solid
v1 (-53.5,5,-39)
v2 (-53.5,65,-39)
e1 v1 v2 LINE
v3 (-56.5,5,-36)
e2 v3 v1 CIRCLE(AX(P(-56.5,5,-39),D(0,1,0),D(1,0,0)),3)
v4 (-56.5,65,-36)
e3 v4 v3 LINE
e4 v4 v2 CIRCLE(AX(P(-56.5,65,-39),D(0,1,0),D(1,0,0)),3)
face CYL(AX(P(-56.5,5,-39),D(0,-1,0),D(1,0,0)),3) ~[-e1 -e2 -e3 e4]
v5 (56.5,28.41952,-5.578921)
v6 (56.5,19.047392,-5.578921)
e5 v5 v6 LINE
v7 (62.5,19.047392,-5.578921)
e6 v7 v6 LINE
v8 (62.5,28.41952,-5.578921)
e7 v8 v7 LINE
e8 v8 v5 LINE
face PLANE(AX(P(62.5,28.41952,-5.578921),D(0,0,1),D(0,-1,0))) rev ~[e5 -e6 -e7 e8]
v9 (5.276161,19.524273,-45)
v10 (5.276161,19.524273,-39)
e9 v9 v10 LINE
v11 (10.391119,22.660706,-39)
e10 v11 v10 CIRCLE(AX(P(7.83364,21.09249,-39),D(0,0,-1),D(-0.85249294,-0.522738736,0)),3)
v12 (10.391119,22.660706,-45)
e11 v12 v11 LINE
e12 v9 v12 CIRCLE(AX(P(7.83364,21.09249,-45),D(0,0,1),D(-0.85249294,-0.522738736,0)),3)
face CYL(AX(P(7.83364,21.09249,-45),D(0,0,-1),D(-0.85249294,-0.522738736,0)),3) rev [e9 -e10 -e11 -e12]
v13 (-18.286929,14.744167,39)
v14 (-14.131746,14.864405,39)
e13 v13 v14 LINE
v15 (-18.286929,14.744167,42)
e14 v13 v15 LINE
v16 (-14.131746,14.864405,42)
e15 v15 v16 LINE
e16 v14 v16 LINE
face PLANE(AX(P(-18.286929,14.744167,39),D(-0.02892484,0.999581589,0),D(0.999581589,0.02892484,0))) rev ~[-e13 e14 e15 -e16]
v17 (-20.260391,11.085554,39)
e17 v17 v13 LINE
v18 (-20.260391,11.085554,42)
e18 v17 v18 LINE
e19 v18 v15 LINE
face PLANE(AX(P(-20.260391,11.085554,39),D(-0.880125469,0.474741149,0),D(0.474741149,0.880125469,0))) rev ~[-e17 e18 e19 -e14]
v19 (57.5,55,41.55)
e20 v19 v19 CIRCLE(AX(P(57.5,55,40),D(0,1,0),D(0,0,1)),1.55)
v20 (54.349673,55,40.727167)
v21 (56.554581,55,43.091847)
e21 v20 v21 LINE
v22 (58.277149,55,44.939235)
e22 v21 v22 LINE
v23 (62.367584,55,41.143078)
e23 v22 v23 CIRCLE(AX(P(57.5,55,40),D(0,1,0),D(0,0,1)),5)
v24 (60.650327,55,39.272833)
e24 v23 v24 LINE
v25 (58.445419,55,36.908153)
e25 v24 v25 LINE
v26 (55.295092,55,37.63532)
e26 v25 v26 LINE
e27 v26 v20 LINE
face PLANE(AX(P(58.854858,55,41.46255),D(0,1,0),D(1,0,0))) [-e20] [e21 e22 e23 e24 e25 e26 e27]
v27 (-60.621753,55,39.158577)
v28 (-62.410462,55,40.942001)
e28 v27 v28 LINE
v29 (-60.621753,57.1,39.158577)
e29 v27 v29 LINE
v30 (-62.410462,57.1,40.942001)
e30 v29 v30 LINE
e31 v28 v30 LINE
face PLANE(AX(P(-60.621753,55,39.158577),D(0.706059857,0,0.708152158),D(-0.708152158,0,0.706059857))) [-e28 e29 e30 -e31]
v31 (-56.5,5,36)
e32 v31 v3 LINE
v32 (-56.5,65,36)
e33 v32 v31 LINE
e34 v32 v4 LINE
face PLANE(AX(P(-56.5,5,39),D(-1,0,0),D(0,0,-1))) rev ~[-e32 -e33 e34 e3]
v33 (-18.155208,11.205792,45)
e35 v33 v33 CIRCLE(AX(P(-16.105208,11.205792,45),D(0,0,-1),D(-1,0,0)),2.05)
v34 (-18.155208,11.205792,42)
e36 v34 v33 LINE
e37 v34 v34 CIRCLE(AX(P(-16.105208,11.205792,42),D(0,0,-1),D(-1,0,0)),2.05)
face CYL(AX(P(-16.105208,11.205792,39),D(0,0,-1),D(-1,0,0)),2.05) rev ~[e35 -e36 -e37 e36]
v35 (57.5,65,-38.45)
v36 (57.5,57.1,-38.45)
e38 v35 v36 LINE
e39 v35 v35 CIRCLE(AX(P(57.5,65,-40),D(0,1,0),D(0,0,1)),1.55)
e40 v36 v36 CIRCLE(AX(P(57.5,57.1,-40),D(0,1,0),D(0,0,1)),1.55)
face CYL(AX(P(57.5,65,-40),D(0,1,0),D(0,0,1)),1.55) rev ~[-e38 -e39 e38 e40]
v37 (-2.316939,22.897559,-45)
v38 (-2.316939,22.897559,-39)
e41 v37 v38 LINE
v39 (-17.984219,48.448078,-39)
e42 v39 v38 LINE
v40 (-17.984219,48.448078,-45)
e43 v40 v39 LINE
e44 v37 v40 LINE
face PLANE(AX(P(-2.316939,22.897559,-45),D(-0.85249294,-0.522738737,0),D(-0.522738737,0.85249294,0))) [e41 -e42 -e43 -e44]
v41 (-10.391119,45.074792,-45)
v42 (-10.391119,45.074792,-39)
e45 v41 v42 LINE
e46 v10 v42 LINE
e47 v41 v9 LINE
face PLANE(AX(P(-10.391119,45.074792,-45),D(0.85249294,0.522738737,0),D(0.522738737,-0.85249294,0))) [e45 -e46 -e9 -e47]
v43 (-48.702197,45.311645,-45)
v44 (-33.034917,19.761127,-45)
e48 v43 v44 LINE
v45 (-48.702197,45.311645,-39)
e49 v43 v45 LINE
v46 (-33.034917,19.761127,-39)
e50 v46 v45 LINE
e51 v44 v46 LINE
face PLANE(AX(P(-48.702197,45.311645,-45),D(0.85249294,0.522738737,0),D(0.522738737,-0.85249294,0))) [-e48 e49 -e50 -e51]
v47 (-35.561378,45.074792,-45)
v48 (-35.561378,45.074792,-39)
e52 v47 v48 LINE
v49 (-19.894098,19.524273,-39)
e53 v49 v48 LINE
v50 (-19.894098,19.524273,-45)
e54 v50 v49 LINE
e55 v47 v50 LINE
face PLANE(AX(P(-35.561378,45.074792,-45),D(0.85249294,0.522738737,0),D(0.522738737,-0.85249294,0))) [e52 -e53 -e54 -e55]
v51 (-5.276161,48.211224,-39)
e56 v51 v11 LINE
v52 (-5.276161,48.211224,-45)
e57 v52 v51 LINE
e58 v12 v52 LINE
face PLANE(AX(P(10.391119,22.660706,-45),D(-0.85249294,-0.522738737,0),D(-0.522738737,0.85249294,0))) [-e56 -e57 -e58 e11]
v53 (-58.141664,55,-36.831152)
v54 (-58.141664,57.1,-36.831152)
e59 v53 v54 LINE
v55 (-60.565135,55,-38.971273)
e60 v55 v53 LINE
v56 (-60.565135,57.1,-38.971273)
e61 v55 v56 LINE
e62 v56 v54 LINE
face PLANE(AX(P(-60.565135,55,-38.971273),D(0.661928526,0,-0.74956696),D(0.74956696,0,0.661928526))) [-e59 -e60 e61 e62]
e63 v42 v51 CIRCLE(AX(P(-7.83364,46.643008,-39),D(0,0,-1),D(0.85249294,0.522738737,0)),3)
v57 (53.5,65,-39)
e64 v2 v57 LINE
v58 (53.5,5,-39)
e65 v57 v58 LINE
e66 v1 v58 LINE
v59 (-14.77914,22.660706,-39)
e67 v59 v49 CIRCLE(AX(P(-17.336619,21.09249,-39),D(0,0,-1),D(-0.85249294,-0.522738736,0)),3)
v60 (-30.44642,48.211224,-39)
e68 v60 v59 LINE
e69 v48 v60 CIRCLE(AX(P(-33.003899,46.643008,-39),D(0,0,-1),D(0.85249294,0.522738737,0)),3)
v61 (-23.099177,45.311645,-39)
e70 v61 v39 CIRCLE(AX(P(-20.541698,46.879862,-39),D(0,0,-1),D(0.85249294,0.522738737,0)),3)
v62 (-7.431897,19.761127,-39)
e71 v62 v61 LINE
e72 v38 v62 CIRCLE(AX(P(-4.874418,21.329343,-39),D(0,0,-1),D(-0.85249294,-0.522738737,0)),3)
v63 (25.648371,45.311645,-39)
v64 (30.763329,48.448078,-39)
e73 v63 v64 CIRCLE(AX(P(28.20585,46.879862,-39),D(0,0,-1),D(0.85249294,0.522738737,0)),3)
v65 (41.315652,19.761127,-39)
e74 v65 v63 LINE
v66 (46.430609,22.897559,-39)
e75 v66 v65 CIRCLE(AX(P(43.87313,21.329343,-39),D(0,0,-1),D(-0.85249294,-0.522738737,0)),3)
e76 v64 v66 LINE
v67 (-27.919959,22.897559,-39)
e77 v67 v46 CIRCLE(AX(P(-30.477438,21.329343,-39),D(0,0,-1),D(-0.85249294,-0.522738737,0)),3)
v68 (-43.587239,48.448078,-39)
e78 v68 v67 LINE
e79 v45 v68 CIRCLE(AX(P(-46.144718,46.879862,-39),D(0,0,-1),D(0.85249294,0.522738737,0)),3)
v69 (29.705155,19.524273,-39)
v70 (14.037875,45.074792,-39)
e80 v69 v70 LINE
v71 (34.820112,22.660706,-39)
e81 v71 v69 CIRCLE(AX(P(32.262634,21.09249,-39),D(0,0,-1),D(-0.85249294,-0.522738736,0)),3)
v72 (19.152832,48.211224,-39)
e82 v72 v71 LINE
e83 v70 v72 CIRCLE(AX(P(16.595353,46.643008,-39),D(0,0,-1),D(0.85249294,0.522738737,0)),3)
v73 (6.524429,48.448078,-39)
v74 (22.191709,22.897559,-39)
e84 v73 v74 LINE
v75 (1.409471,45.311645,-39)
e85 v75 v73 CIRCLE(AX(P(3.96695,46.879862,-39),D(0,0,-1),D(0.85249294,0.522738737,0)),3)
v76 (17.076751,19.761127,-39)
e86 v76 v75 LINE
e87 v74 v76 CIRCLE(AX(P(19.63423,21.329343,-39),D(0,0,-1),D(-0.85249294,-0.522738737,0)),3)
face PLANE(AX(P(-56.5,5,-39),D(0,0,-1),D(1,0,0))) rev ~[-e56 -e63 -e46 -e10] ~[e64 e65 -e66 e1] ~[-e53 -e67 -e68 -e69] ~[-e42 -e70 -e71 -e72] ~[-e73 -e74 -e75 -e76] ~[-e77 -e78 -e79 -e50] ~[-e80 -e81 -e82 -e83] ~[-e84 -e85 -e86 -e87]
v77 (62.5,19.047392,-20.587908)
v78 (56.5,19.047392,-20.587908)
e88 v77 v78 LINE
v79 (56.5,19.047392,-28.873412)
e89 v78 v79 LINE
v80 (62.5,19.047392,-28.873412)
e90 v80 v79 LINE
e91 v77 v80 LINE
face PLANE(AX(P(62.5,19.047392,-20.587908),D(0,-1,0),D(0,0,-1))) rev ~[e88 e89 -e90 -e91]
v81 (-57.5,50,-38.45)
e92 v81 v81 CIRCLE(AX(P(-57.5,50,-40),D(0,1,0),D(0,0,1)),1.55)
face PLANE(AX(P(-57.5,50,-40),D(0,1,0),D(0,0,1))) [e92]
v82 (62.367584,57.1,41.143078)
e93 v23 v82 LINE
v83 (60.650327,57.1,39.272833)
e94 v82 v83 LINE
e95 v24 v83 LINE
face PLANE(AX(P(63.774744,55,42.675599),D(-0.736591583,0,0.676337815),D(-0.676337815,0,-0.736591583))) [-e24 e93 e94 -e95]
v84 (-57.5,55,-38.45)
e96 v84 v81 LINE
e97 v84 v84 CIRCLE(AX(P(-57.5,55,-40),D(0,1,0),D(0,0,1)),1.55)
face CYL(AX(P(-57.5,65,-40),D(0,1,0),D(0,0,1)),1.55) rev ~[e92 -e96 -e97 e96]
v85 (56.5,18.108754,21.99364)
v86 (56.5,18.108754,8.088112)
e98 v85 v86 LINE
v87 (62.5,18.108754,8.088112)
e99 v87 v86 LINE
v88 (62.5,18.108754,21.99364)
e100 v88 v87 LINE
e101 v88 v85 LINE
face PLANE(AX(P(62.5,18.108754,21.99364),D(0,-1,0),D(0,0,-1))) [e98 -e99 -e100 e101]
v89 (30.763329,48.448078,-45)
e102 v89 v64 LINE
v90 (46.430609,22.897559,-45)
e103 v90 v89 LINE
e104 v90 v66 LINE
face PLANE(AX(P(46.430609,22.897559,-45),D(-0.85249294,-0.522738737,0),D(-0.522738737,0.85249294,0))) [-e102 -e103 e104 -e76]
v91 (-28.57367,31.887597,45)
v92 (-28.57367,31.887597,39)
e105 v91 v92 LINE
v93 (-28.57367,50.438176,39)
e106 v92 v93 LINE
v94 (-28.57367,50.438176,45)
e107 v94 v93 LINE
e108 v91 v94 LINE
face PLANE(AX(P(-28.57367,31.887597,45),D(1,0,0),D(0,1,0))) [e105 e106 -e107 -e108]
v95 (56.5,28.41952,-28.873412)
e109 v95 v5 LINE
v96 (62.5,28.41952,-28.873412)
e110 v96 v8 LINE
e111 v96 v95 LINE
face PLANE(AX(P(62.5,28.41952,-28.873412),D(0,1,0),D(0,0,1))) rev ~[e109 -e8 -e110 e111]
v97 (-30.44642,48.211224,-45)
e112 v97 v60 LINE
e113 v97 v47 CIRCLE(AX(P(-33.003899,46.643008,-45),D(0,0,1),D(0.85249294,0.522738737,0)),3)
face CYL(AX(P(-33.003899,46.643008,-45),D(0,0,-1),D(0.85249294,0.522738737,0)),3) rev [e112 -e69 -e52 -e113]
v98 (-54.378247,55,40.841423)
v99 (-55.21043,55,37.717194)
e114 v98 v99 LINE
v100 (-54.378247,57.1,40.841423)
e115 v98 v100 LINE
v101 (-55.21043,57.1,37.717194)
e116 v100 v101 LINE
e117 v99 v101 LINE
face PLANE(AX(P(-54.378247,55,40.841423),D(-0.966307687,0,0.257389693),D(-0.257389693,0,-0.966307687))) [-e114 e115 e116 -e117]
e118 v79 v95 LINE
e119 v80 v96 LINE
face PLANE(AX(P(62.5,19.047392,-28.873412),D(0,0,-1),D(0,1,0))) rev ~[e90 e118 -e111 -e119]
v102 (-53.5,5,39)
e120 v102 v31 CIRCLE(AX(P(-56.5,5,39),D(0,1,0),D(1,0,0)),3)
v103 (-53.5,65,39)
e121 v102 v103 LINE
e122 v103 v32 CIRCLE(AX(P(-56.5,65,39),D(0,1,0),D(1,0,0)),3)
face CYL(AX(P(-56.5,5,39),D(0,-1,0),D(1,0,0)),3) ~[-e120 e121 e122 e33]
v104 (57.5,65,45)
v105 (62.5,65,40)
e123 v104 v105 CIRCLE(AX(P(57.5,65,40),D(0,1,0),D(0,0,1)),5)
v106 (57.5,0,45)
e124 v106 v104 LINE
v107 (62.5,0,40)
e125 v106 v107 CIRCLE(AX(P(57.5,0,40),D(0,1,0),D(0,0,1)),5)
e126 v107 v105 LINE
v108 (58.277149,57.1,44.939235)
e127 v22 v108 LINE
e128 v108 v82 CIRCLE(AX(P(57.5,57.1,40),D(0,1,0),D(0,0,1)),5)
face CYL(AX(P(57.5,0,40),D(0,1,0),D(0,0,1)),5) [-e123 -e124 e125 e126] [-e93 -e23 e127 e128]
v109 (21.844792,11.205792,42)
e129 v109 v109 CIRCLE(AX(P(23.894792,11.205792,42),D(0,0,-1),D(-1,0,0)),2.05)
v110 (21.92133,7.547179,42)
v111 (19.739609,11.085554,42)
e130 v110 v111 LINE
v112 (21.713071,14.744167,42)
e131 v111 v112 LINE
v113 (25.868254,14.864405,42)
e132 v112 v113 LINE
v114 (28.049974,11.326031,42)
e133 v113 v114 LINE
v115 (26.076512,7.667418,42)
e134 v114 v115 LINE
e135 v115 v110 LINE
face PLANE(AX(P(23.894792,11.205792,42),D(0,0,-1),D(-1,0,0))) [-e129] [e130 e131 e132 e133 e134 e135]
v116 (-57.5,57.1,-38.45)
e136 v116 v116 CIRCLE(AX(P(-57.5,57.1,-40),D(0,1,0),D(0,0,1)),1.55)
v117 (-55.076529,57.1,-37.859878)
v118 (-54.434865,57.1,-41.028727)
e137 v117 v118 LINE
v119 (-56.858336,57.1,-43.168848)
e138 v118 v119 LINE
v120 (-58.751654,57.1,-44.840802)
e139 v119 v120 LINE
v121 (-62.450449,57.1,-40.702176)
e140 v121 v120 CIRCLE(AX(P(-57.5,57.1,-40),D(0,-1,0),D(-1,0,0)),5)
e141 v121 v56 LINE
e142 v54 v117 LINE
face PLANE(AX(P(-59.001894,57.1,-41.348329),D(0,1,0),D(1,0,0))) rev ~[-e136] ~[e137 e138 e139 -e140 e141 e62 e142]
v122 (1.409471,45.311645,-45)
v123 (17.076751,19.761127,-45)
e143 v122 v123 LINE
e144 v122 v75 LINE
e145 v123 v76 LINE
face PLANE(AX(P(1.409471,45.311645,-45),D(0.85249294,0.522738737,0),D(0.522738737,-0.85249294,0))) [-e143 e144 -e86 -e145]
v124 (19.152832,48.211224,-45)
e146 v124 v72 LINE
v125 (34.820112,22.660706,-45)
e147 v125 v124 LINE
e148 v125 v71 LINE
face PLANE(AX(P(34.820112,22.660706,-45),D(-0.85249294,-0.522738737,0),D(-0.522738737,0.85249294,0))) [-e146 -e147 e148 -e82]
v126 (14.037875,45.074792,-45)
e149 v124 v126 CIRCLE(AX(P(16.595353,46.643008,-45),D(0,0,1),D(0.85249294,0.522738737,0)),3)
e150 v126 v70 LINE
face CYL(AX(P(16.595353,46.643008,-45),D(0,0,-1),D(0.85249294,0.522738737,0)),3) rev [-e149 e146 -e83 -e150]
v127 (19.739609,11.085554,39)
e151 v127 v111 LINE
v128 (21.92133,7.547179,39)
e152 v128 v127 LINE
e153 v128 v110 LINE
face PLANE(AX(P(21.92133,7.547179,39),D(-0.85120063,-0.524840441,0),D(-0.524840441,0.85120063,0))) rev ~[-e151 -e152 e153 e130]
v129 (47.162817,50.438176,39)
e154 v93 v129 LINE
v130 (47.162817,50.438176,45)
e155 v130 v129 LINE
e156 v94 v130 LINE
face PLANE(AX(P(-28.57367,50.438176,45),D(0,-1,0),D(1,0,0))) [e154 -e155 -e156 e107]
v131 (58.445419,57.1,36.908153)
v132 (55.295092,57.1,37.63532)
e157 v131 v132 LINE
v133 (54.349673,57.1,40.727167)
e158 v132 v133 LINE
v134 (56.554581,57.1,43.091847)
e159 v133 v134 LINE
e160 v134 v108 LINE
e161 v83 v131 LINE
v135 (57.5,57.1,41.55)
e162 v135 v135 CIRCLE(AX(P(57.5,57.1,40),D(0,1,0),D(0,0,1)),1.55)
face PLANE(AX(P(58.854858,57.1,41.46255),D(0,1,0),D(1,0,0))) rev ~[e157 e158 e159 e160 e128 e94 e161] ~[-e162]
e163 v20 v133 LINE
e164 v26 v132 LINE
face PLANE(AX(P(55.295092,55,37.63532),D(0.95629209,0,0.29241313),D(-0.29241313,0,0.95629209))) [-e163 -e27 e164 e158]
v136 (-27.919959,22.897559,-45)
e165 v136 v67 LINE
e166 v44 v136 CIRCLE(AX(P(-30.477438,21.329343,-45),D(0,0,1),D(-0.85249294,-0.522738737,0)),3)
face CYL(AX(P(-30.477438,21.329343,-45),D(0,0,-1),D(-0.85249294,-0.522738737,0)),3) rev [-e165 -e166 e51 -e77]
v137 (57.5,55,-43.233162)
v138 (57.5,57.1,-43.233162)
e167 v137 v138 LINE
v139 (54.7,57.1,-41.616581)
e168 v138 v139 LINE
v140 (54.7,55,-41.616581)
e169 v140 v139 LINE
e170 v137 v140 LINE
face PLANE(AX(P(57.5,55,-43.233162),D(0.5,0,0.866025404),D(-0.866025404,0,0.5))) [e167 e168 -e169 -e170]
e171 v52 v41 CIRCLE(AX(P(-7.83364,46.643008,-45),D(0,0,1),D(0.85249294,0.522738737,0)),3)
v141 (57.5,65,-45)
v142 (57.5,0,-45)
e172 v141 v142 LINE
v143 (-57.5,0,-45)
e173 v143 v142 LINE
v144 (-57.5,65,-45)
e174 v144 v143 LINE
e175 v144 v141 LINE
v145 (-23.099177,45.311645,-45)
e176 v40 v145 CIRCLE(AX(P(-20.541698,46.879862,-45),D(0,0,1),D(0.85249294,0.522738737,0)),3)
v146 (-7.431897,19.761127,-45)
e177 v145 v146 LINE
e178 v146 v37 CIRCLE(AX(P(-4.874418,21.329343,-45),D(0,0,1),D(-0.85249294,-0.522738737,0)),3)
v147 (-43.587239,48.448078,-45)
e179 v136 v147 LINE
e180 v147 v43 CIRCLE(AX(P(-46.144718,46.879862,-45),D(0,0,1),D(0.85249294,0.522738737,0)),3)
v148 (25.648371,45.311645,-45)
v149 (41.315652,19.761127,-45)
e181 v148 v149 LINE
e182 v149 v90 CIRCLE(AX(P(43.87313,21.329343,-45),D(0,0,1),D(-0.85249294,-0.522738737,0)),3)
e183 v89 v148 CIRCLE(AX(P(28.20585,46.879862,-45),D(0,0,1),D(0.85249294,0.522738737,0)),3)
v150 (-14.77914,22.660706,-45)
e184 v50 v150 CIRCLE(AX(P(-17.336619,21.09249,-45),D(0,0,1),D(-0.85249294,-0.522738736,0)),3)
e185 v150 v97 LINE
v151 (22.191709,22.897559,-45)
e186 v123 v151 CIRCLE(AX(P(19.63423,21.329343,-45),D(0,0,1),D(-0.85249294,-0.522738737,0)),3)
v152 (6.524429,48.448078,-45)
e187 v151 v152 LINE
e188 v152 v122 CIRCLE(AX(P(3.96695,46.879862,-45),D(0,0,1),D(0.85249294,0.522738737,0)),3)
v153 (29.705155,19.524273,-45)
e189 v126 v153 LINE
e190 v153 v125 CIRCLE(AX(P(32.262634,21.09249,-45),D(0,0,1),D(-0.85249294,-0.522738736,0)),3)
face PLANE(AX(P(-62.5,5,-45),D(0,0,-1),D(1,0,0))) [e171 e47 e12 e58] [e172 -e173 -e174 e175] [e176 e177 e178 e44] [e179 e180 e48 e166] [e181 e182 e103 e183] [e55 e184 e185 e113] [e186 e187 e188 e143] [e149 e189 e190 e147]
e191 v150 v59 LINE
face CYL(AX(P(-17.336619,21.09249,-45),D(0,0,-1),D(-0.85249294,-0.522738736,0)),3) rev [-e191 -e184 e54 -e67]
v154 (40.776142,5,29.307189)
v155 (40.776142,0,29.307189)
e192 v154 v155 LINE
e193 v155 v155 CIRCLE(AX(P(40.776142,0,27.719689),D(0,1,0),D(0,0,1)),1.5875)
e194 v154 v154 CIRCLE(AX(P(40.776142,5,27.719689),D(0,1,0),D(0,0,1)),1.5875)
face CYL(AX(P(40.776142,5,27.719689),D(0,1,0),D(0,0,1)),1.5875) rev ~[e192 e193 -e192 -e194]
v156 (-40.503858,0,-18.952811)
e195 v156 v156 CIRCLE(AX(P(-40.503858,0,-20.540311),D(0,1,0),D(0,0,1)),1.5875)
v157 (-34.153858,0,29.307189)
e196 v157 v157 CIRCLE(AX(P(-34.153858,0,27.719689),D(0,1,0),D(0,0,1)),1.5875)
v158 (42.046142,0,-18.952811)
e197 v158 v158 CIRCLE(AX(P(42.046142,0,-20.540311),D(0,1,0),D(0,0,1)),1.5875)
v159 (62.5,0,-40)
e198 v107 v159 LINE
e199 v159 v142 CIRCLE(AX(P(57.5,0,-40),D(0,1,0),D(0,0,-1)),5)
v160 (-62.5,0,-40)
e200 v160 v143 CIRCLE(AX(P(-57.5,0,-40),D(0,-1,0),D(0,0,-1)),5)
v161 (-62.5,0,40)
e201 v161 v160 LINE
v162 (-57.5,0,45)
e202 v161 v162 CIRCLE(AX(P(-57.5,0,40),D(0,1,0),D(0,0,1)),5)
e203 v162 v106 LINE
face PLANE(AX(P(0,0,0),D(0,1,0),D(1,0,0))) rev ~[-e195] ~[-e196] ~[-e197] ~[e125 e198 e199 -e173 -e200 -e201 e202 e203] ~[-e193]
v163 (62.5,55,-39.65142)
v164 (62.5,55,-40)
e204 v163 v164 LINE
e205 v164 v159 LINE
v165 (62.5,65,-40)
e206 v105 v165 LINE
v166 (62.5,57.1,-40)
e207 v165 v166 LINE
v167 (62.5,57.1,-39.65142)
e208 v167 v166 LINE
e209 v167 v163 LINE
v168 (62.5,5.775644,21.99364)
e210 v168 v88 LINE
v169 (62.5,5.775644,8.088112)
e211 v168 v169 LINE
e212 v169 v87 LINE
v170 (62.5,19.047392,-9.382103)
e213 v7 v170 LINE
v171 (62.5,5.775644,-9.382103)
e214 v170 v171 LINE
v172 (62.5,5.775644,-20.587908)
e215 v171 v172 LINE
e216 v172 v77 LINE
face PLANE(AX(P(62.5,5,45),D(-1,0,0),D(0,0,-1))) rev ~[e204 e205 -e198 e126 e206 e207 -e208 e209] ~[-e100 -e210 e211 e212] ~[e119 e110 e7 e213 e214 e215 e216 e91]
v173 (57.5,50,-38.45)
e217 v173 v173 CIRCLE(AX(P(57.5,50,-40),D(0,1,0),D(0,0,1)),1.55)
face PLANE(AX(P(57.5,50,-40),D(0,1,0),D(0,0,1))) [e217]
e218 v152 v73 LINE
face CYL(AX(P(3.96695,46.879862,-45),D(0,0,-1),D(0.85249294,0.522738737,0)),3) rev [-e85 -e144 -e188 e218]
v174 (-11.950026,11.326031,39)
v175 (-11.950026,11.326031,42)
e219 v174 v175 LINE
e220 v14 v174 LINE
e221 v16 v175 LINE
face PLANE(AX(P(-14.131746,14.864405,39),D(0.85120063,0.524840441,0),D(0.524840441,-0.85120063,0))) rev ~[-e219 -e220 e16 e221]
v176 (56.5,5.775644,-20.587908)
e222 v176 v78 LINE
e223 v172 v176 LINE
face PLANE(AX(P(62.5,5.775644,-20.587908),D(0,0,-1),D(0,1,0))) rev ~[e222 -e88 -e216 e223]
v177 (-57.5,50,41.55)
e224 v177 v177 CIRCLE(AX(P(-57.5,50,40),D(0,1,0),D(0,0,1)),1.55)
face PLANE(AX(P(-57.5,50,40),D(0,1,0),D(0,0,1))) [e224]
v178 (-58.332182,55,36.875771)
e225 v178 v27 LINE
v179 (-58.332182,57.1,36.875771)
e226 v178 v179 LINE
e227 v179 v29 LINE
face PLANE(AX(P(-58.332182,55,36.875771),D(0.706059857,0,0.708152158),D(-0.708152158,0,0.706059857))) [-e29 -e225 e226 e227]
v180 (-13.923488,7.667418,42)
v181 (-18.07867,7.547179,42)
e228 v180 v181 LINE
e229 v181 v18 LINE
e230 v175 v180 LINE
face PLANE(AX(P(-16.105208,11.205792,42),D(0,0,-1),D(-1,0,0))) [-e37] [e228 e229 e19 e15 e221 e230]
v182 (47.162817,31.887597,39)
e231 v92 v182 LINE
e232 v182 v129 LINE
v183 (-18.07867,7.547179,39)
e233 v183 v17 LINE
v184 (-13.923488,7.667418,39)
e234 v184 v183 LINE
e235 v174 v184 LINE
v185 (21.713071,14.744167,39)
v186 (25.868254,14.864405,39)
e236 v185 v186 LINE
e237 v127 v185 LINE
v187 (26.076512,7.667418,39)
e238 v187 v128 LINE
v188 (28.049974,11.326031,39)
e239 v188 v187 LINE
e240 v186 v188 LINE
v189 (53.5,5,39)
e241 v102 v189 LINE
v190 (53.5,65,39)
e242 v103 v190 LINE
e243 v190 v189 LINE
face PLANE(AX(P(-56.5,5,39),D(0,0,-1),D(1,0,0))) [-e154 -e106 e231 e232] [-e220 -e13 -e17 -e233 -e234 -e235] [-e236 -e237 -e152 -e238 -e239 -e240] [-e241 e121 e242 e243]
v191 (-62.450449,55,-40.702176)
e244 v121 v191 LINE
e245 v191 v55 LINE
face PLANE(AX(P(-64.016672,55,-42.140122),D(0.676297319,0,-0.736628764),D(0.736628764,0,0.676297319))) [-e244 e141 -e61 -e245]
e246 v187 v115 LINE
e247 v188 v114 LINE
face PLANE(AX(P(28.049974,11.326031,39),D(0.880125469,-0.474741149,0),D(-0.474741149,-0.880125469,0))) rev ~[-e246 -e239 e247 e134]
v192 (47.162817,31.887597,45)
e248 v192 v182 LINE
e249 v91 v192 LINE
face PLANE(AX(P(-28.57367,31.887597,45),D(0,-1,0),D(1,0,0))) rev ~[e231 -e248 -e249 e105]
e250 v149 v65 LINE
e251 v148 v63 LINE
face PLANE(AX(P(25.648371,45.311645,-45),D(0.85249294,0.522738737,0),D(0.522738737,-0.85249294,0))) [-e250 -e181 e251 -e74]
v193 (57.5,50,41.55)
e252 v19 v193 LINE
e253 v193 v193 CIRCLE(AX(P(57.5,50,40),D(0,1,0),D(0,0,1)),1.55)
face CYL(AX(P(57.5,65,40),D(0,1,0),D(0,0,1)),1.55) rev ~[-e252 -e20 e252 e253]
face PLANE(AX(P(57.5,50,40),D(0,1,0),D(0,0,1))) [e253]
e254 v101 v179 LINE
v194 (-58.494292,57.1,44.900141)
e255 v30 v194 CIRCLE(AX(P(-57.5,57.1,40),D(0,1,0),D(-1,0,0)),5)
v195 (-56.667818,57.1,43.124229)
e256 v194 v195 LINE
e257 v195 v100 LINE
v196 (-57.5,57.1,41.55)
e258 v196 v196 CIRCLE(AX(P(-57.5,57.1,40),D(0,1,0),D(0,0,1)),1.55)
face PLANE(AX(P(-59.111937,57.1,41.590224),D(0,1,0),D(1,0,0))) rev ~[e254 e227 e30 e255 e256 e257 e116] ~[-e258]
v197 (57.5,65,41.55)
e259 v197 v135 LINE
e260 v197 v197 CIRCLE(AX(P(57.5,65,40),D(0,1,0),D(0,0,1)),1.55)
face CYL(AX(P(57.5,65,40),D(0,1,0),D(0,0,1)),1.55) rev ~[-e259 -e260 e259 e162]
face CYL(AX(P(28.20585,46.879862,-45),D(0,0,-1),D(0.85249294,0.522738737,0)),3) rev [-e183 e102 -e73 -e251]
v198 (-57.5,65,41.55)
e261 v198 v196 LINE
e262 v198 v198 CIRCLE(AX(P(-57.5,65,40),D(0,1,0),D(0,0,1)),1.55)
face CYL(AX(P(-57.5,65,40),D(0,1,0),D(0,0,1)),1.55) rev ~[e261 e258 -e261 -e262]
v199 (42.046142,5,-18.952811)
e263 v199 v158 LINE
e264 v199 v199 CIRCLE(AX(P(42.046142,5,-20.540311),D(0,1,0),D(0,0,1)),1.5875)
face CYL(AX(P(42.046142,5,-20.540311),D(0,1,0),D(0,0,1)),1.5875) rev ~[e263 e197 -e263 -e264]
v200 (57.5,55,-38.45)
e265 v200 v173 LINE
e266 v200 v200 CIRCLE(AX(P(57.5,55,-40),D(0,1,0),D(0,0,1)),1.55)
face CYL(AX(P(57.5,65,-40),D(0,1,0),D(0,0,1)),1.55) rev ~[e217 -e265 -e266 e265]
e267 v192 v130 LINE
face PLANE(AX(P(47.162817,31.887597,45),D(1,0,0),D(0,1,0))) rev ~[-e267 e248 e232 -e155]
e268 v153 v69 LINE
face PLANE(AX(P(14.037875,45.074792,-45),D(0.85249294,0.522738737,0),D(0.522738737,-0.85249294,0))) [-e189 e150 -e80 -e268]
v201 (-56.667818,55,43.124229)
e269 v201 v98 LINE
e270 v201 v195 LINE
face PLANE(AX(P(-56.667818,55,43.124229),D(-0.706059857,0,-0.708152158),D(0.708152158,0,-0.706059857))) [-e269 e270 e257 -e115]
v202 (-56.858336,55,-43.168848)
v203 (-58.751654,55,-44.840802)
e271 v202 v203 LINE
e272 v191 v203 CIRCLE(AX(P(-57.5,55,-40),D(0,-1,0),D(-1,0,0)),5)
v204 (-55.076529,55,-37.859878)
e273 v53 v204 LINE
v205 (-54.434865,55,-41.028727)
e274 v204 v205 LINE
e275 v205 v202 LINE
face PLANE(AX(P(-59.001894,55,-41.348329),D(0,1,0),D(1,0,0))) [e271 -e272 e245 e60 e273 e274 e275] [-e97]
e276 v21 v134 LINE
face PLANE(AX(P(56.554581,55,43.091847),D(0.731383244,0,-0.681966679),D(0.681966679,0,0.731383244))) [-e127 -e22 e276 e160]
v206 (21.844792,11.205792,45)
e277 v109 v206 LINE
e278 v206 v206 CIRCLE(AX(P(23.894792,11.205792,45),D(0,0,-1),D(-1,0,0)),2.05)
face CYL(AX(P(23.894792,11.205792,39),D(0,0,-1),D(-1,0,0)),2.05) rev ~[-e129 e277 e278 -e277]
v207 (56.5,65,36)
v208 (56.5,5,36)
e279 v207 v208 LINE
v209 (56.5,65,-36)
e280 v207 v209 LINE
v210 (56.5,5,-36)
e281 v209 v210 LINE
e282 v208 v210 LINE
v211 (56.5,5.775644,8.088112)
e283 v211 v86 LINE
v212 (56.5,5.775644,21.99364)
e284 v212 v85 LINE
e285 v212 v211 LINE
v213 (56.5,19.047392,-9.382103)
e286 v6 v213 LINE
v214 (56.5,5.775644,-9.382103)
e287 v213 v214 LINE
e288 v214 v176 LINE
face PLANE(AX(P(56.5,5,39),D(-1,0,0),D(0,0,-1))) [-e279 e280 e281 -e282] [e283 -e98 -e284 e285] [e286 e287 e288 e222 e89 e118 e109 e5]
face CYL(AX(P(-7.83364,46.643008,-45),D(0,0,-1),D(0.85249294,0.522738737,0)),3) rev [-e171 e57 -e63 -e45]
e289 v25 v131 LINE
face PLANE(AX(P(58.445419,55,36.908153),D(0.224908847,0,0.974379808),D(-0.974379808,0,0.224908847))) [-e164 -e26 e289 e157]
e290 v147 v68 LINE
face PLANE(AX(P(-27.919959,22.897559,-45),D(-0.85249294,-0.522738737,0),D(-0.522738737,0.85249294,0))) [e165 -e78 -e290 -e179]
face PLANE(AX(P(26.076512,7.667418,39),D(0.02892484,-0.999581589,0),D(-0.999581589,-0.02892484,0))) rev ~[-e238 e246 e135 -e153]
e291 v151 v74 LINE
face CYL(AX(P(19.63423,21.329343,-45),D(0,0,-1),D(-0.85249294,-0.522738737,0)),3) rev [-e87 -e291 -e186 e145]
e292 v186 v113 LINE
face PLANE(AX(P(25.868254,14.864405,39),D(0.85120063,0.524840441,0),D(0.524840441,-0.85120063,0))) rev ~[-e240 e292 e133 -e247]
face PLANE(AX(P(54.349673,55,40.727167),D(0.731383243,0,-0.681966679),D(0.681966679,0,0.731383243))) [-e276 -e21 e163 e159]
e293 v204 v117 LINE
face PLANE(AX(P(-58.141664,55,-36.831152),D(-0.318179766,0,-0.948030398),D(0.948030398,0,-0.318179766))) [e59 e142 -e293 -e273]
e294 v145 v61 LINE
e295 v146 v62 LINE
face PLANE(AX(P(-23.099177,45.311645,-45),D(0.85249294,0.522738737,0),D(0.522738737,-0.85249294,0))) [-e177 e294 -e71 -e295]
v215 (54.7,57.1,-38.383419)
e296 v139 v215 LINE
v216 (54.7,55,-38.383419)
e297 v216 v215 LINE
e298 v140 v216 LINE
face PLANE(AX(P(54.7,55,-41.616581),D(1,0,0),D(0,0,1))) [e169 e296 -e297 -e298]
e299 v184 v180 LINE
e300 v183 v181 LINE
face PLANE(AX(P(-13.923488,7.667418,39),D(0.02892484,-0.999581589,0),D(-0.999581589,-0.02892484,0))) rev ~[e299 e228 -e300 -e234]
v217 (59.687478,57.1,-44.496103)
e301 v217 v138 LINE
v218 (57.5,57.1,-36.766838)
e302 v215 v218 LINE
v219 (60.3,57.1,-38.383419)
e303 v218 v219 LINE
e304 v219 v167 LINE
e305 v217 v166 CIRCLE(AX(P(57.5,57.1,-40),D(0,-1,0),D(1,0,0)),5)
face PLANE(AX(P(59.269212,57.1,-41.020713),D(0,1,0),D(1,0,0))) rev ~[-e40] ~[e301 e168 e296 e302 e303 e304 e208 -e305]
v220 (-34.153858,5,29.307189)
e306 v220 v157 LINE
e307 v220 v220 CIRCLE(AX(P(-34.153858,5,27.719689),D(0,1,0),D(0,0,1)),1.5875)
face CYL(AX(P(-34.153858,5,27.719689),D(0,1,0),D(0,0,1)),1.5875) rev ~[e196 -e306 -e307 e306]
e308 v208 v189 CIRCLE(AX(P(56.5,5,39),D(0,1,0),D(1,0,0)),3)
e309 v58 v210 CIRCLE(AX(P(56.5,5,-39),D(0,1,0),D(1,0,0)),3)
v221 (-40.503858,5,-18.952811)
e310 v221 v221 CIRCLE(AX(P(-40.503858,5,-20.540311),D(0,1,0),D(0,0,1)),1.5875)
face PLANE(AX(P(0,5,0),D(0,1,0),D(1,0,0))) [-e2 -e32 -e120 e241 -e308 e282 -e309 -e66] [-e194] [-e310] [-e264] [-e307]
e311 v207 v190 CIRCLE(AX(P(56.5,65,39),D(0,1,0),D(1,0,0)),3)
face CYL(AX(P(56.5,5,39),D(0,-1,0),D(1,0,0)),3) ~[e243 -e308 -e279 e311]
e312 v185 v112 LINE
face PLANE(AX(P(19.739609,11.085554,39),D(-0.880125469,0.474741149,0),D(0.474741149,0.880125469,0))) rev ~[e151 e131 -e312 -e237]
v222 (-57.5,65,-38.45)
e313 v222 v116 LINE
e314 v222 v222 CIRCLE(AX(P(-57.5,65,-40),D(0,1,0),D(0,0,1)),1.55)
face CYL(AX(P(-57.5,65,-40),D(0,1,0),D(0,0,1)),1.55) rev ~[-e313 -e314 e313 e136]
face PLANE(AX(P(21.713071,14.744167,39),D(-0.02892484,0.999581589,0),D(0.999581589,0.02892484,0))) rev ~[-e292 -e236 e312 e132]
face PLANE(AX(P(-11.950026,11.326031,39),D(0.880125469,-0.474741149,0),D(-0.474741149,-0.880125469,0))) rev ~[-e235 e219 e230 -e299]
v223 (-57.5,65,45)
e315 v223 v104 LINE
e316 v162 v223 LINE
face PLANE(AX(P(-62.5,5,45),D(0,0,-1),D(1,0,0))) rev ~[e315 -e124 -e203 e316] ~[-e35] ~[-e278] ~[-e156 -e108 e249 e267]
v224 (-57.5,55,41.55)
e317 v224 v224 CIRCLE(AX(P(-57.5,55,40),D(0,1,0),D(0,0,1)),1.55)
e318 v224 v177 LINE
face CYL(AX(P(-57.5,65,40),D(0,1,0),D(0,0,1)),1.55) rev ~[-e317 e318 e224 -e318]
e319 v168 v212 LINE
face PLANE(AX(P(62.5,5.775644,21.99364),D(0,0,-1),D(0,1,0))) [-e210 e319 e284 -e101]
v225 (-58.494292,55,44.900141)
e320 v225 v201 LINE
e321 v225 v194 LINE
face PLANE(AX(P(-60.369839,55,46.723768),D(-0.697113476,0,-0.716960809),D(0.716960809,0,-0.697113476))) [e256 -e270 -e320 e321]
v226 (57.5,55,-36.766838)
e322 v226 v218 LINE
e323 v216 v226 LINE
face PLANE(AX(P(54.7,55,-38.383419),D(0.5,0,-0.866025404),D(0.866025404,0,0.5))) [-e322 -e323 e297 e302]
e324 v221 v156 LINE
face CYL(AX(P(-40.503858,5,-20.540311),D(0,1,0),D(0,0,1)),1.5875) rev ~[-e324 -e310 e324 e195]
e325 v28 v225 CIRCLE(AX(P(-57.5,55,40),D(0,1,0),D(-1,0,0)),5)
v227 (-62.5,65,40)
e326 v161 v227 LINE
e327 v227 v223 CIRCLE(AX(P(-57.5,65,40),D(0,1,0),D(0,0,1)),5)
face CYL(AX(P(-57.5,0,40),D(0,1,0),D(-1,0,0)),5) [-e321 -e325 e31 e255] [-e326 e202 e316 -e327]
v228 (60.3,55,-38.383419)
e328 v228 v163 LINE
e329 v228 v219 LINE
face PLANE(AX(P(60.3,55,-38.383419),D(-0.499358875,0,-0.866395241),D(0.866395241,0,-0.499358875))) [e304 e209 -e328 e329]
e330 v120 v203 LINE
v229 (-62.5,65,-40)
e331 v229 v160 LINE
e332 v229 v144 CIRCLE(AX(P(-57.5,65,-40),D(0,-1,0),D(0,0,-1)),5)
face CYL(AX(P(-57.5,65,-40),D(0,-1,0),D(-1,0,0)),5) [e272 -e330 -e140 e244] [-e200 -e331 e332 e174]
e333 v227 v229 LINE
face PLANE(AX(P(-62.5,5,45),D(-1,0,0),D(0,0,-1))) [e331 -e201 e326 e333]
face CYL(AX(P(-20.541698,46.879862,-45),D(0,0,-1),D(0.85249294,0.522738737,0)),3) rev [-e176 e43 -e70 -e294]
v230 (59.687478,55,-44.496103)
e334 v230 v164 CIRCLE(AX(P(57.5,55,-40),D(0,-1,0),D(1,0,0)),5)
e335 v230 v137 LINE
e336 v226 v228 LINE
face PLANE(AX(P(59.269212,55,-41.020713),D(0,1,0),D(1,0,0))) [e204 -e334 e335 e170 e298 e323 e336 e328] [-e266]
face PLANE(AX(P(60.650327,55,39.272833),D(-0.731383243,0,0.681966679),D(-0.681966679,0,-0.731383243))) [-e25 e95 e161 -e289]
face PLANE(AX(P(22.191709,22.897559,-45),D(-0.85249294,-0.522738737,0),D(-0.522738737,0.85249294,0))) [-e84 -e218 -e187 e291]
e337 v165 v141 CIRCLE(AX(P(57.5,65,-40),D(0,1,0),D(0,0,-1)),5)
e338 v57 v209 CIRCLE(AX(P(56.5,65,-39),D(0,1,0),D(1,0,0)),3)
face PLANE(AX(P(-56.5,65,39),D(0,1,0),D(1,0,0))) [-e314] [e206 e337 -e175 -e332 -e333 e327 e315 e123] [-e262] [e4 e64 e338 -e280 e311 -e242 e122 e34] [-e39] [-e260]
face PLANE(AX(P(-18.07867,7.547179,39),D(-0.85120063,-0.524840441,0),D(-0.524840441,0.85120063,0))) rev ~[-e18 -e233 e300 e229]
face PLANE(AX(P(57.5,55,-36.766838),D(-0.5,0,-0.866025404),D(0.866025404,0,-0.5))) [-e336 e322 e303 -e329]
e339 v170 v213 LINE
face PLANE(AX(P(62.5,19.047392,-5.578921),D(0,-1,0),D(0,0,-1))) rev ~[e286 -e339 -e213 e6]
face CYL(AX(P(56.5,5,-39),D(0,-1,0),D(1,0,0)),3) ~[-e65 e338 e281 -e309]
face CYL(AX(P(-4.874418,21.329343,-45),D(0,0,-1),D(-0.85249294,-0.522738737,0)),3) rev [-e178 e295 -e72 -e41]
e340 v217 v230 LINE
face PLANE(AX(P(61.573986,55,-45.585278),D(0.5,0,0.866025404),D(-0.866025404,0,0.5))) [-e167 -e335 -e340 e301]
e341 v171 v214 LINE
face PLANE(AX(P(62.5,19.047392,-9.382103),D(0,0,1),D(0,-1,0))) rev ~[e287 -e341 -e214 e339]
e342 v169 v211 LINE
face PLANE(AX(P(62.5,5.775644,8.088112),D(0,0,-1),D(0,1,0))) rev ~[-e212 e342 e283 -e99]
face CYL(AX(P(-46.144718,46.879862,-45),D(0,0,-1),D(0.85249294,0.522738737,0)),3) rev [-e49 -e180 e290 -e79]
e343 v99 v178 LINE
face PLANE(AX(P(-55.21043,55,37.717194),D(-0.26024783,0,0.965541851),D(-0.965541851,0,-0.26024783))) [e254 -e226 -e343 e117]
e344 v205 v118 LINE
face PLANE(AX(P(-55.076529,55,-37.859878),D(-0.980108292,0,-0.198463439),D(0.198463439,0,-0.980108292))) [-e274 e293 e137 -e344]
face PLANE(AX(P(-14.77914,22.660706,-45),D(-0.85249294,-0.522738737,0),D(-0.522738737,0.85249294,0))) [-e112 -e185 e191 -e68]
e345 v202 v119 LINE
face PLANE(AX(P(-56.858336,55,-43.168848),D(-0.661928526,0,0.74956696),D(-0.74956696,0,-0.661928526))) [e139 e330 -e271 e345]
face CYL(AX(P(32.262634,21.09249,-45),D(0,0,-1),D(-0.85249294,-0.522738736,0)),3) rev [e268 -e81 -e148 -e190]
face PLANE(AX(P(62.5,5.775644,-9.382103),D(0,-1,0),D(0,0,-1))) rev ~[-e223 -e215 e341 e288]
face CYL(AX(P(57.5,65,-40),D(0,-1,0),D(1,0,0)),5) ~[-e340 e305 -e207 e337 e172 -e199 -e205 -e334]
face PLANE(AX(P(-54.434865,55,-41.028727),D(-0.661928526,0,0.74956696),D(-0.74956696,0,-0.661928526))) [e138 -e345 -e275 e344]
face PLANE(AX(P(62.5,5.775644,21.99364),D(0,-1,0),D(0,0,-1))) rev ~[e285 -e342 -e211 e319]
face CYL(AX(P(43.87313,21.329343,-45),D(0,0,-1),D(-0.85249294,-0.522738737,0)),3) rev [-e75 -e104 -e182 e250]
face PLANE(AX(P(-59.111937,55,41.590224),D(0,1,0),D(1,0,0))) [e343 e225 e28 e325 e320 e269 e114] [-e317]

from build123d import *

# Parameters (mm, degrees)
SKETCH1_W           = 125
SKETCH1_H           = 90
BOSS_EXTRUDE1_DEPTH = 5
SKETCH2_W           = 125
SKETCH2_H           = 90
SKETCH2_W_2         = 113
SKETCH2_H_2         = 78
EXTRUDE_THIN1_DEPTH = 60
FILLET1_R           = 5
CUT_EXTRUDE12_REACH = 125.237
SKETCH17_R          = 2.05
CUT_EXTRUDE13_DEPTH = 3
CUT_EXTRUDE15_REACH = 129.402
SKETCH14_W          = 75.736486469
SKETCH14_H          = 18.550578115
SKETCH20_R          = 3
BOSS_EXTRUDE2_DEPTH = 60
SKETCH21_R          = 1.55
CUT_EXTRUDE16_DEPTH = 15
CUT_EXTRUDE17_DEPTH = 2.1
CUT_EXTRUDE18_REACH = 129.402
CUT_EXTRUDE19_REACH = 149.902
SKETCH26_W          = 13.905528105
SKETCH26_H          = 12.333109577
CUT_EXTRUDE20_REACH = 99.628
SKETCH27_R          = 1.5875


with BuildPart() as part:
    # Sketch1 → Boss-Extrude1 (new body)
    with BuildSketch(Plane(origin=(0, 0, 0), x_dir=(1, 0, 0), z_dir=(0, 1, 0))):
        Rectangle(SKETCH1_W, SKETCH1_H)
    extrude(amount=BOSS_EXTRUDE1_DEPTH)

    # Sketch2 → Extrude-Thin1 (add)
    with BuildSketch(Plane(origin=(0, 5, 0), x_dir=(1, 0, 0), z_dir=(0, 1, 0))):
        Rectangle(SKETCH2_W, SKETCH2_H)
        Rectangle(SKETCH2_W_2, SKETCH2_H_2, mode=Mode.SUBTRACT)
    extrude(amount=EXTRUDE_THIN1_DEPTH)

    # Fillet1
    fillet1_edges = [part.edges().sort_by_distance(p)[0] for p in [
        (-62.5, 32.5, -45),
        (62.5, 32.5, -45),
        (62.5, 32.5, 45),
        (-62.5, 32.5, 45),
    ]]
    fillet(fillet1_edges, radius=FILLET1_R)

    # Sketch17 → Cut-Extrude12 (cut, up to next)
    with BuildSketch(Plane(origin=(0, 0, 39), x_dir=(-1, 0, 0), z_dir=(0, 0, -1)), mode=Mode.PRIVATE) as cut_extrude12_sk1:
        with Locations((-23.894791756, 11.205792227)):
            Circle(SKETCH17_R)
    cut_extrude12_tool1 = extrude(cut_extrude12_sk1.sketch, amount=-CUT_EXTRUDE12_REACH, mode=Mode.PRIVATE) & part.part
    # Sketch17 → Cut-Extrude12 (cut, up to next)
    with BuildSketch(Plane(origin=(0, 0, 39), x_dir=(-1, 0, 0), z_dir=(0, 0, -1)), mode=Mode.PRIVATE) as cut_extrude12_sk2:
        with Locations((16.105208244, 11.205792227)):
            Circle(SKETCH17_R)
    cut_extrude12_tool2 = extrude(cut_extrude12_sk2.sketch, amount=-CUT_EXTRUDE12_REACH, mode=Mode.PRIVATE) & part.part
    add(cut_extrude12_tool1.solids().sort_by_distance((23.894792, 11.205792, 39))[0], mode=Mode.SUBTRACT)
    add(cut_extrude12_tool2.solids().sort_by_distance((-16.105208, 11.205792, 39))[0], mode=Mode.SUBTRACT)

    # Sketch18 → Cut-Extrude13 (cut)
    with BuildSketch(Plane(origin=(0, 0, 39), x_dir=(-1, 0, 0), z_dir=(0, 0, -1))):
        Polygon((-21.92132986, 7.547179355), (-19.739609119, 11.085553926), (-21.713071015, 14.744166798), (-25.868253652, 14.864405099), (-28.049974394, 11.326030527), (-26.076512498, 7.667417656), align=None)
        Polygon((18.07867014, 7.547179355), (20.260390881, 11.085553926), (18.286928985, 14.744166798), (14.131746348, 14.864405099), (11.950025606, 11.326030527), (13.923487502, 7.667417656), align=None)
    extrude(amount=-CUT_EXTRUDE13_DEPTH, mode=Mode.SUBTRACT)

    # Sketch14 → Cut-Extrude15 (cut, up to next)
    with BuildSketch(Plane.XY.offset(45), mode=Mode.PRIVATE) as cut_extrude15_sk1:
        with Locations((9.294573428, 41.162886515)):
            Rectangle(SKETCH14_W, SKETCH14_H)
    cut_extrude15_tool1 = extrude(cut_extrude15_sk1.sketch, amount=-CUT_EXTRUDE15_REACH, mode=Mode.PRIVATE) & part.part
    add(cut_extrude15_tool1.solids().sort_by_distance((9.294573, 41.162887, 45))[0], mode=Mode.SUBTRACT)

    # Sketch20 → Boss-Extrude2 (add)
    with BuildSketch(Plane(origin=(0, 5, 0), x_dir=(1, 0, 0), z_dir=(0, 1, 0))):
        with Locations((-56.5, -39)):
            Circle(SKETCH20_R)
        with Locations((-56.5, 39)):
            Circle(SKETCH20_R)
        with Locations((56.5, 39)):
            Circle(SKETCH20_R)
        with Locations((56.5, -39)):
            Circle(SKETCH20_R)
    extrude(amount=BOSS_EXTRUDE2_DEPTH)

    # Sketch21 → Cut-Extrude16 (cut)
    with BuildSketch(Plane(origin=(0, 65, 0), x_dir=(1, 0, 0), z_dir=(0, 1, 0))):
        with Locations(Location((-57.5, -40, 0), (0, 0, 270))):
            Circle(SKETCH21_R)
        with Locations(Location((-57.5, 40, 0), (0, 0, 270))):
            Circle(SKETCH21_R)
        with Locations(Location((57.5, 40, 0), (0, 0, 270))):
            Circle(SKETCH21_R)
        with Locations(Location((57.5, -40, 0), (0, 0, 270))):
            Circle(SKETCH21_R)
    extrude(amount=-CUT_EXTRUDE16_DEPTH, mode=Mode.SUBTRACT)

    # Sketch22 → Cut-Extrude17 (cut)
    with BuildSketch(Plane(origin=(0, 55, 0), x_dir=(1, 0, 0), z_dir=(0, 1, 0))):
        Polygon((-56.858335649, 43.168848402), (-60.369838633, 46.269790836), (-64.01667189, 42.140121829), (-60.565135392, 38.971273428), (-58.141664351, 36.831151598), (-55.076528959, 37.859878171), (-54.434864608, 41.028726572), align=None)
        Polygon((57.5, 43.233161507), (54.7, 41.616580754), (54.7, 38.383419246), (57.5, 36.766838493), (60.3, 38.383419246), (64.375727021, 40.73252086), (61.573986103, 45.585278481), align=None)
        Polygon((60.65032729, -39.272833374), (58.445418874, -36.908153224), (55.295091585, -37.63531985), (54.34967271, -40.727166626), (56.554581126, -43.091846776), (59.704908415, -46.470452598), (63.774744064, -42.675599045), align=None)
        Polygon((-54.378247252, -40.841423267), (-55.210429701, -37.71719445), (-58.332182449, -36.875771182), (-60.621752748, -39.158576733), (-64.278002246, -42.804023501), (-60.369838633, -46.723768365), (-56.667817551, -43.124228818), align=None)
    extrude(amount=CUT_EXTRUDE17_DEPTH, mode=Mode.SUBTRACT)

    # Sketch23 → Cut-Extrude18 (cut, up to next)
    with BuildSketch(Plane(origin=(0, 0, -45), x_dir=(-1, 0, 0), z_dir=(0, 0, -1)), mode=Mode.PRIVATE) as cut_extrude18_sk1:
        with BuildLine():
            Line((-25.648371423, 45.311645428), (-41.315651552, 19.761127033))
            ThreePointArc((-41.315651552, 19.761127033), (-45.441346582, 18.771864422), (-46.430609193, 22.897559452))
            Line((-46.430609193, 22.897559452), (-30.763329065, 48.448077847))
            ThreePointArc((-30.763329065, 48.448077847), (-26.637634034, 49.437340458), (-25.648371423, 45.311645428))
        make_face()
    cut_extrude18_tool1 = extrude(cut_extrude18_sk1.sketch, amount=-CUT_EXTRUDE18_REACH, mode=Mode.PRIVATE) & part.part
    # Sketch23 → Cut-Extrude18 (cut, up to next)
    with BuildSketch(Plane(origin=(0, 0, -45), x_dir=(-1, 0, 0), z_dir=(0, 0, -1)), mode=Mode.PRIVATE) as cut_extrude18_sk2:
        with BuildLine():
            Line((-14.037874604, 45.074791856), (-29.705154732, 19.524273462))
            ThreePointArc((-29.705154732, 19.524273462), (-33.830849763, 18.53501085), (-34.820112374, 22.660705881))
            Line((-34.820112374, 22.660705881), (-19.152832246, 48.211224276))
            ThreePointArc((-19.152832246, 48.211224276), (-15.027137215, 49.200486887), (-14.037874604, 45.074791856))
        make_face()
    cut_extrude18_tool2 = extrude(cut_extrude18_sk2.sketch, amount=-CUT_EXTRUDE18_REACH, mode=Mode.PRIVATE) & part.part
    # Sketch23 → Cut-Extrude18 (cut, up to next)
    with BuildSketch(Plane(origin=(0, 0, -45), x_dir=(-1, 0, 0), z_dir=(0, 0, -1)), mode=Mode.PRIVATE) as cut_extrude18_sk3:
        with BuildLine():
            Line((-1.409471357, 45.311645428), (-17.076751485, 19.761127033))
            ThreePointArc((-17.076751485, 19.761127033), (-21.202446516, 18.771864422), (-22.191709127, 22.897559452))
            Line((-22.191709127, 22.897559452), (-6.524428999, 48.448077847))
            ThreePointArc((-6.524428999, 48.448077847), (-2.398733968, 49.437340458), (-1.409471357, 45.311645428))
        make_face()
    cut_extrude18_tool3 = extrude(cut_extrude18_sk3.sketch, amount=-CUT_EXTRUDE18_REACH, mode=Mode.PRIVATE) & part.part
    # Sketch23 → Cut-Extrude18 (cut, up to next)
    with BuildSketch(Plane(origin=(0, 0, -45), x_dir=(-1, 0, 0), z_dir=(0, 0, -1)), mode=Mode.PRIVATE) as cut_extrude18_sk4:
        with BuildLine():
            Line((10.391118885, 45.074791856), (-5.276161243, 19.524273462))
            ThreePointArc((-5.276161243, 19.524273462), (-9.401856274, 18.53501085), (-10.391118885, 22.660705881))
            Line((-10.391118885, 22.660705881), (5.276161243, 48.211224276))
            ThreePointArc((5.276161243, 48.211224276), (9.401856274, 49.200486887), (10.391118885, 45.074791856))
        make_face()
    cut_extrude18_tool4 = extrude(cut_extrude18_sk4.sketch, amount=-CUT_EXTRUDE18_REACH, mode=Mode.PRIVATE) & part.part
    # Sketch23 → Cut-Extrude18 (cut, up to next)
    with BuildSketch(Plane(origin=(0, 0, -45), x_dir=(-1, 0, 0), z_dir=(0, 0, -1)), mode=Mode.PRIVATE) as cut_extrude18_sk5:
        with BuildLine():
            Line((23.099177091, 45.311645428), (7.431896962, 19.761127033))
            ThreePointArc((7.431896962, 19.761127033), (3.306201932, 18.771864422), (2.31693932, 22.897559452))
            Line((2.31693932, 22.897559452), (17.984219449, 48.448077847))
            ThreePointArc((17.984219449, 48.448077847), (22.109914479, 49.437340458), (23.099177091, 45.311645428))
        make_face()
    cut_extrude18_tool5 = extrude(cut_extrude18_sk5.sketch, amount=-CUT_EXTRUDE18_REACH, mode=Mode.PRIVATE) & part.part
    # Sketch23 → Cut-Extrude18 (cut, up to next)
    with BuildSketch(Plane(origin=(0, 0, -45), x_dir=(-1, 0, 0), z_dir=(0, 0, -1)), mode=Mode.PRIVATE) as cut_extrude18_sk6:
        with BuildLine():
            Line((35.561378032, 45.074791856), (19.894097903, 19.524273462))
            ThreePointArc((19.894097903, 19.524273462), (15.768402872, 18.53501085), (14.779140261, 22.660705881))
            Line((14.779140261, 22.660705881), (30.44642039, 48.211224276))
            ThreePointArc((30.44642039, 48.211224276), (34.57211542, 49.200486887), (35.561378032, 45.074791856))
        make_face()
    cut_extrude18_tool6 = extrude(cut_extrude18_sk6.sketch, amount=-CUT_EXTRUDE18_REACH, mode=Mode.PRIVATE) & part.part
    # Sketch23 → Cut-Extrude18 (cut, up to next)
    with BuildSketch(Plane(origin=(0, 0, -45), x_dir=(-1, 0, 0), z_dir=(0, 0, -1)), mode=Mode.PRIVATE) as cut_extrude18_sk7:
        with BuildLine():
            Line((48.702197111, 45.311645428), (33.034916983, 19.761127033))
            ThreePointArc((33.034916983, 19.761127033), (28.909221952, 18.771864422), (27.919959341, 22.897559452))
            Line((27.919959341, 22.897559452), (43.587239469, 48.448077847))
            ThreePointArc((43.587239469, 48.448077847), (47.7129345, 49.437340458), (48.702197111, 45.311645428))
        make_face()
    cut_extrude18_tool7 = extrude(cut_extrude18_sk7.sketch, amount=-CUT_EXTRUDE18_REACH, mode=Mode.PRIVATE) & part.part
    add(cut_extrude18_tool1.solids().sort_by_distance((36.03949, 34.104602, -45))[0], mode=Mode.SUBTRACT)
    add(cut_extrude18_tool2.solids().sort_by_distance((24.428993, 33.867749, -45))[0], mode=Mode.SUBTRACT)
    add(cut_extrude18_tool3.solids().sort_by_distance((11.80059, 34.104602, -45))[0], mode=Mode.SUBTRACT)
    add(cut_extrude18_tool4.solids().sort_by_distance((0, 33.867749, -45))[0], mode=Mode.SUBTRACT)
    add(cut_extrude18_tool5.solids().sort_by_distance((-12.708058, 34.104602, -45))[0], mode=Mode.SUBTRACT)
    add(cut_extrude18_tool6.solids().sort_by_distance((-25.170259, 33.867749, -45))[0], mode=Mode.SUBTRACT)
    add(cut_extrude18_tool7.solids().sort_by_distance((-38.311078, 34.104602, -45))[0], mode=Mode.SUBTRACT)

    # Sketch26 → Cut-Extrude19 (cut, up to next)
    with BuildSketch(Plane(origin=(62.5, 0, 0), x_dir=(0, 0, -1), z_dir=(1, 0, 0)), mode=Mode.PRIVATE) as cut_extrude19_sk1:
        Polygon((5.578920685, 19.047391922), (9.382102995, 19.047391922), (9.382102995, 5.775643938), (20.587908017, 5.775643938), (20.587908017, 19.047391922), (28.873412337, 19.047391922), (28.873412337, 28.419519758), (5.578920685, 28.419519758), align=None)
    cut_extrude19_tool1 = extrude(cut_extrude19_sk1.sketch, amount=-CUT_EXTRUDE19_REACH, mode=Mode.PRIVATE) & part.part
    # Sketch26 → Cut-Extrude19 (cut, up to next)
    with BuildSketch(Plane(origin=(62.5, 0, 0), x_dir=(0, 0, -1), z_dir=(1, 0, 0)), mode=Mode.PRIVATE) as cut_extrude19_sk2:
        with Locations((-15.040875866, 11.942198726)):
            Rectangle(SKETCH26_W, SKETCH26_H)
    cut_extrude19_tool2 = extrude(cut_extrude19_sk2.sketch, amount=-CUT_EXTRUDE19_REACH, mode=Mode.PRIVATE) & part.part
    add(cut_extrude19_tool1.solids().sort_by_distance((62.5, 19.145924, -16.318071))[0], mode=Mode.SUBTRACT)
    add(cut_extrude19_tool2.solids().sort_by_distance((62.5, 11.942199, 15.040876))[0], mode=Mode.SUBTRACT)

    # Sketch27 → Cut-Extrude20 (cut, up to next)
    with BuildSketch(Plane(origin=(0, 5, 0), x_dir=(1, 0, 0), z_dir=(0, 1, 0)), mode=Mode.PRIVATE) as cut_extrude20_sk1:
        with Locations(Location((42.046142412, 20.540310896, 0), (0, 0, 270))):
            Circle(SKETCH27_R)
    cut_extrude20_tool1 = extrude(cut_extrude20_sk1.sketch, amount=-CUT_EXTRUDE20_REACH, mode=Mode.PRIVATE) & part.part
    # Sketch27 → Cut-Extrude20 (cut, up to next)
    with BuildSketch(Plane(origin=(0, 5, 0), x_dir=(1, 0, 0), z_dir=(0, 1, 0)), mode=Mode.PRIVATE) as cut_extrude20_sk2:
        with Locations(Location((40.776142412, -27.719689104, 0), (0, 0, 270))):
            Circle(SKETCH27_R)
    cut_extrude20_tool2 = extrude(cut_extrude20_sk2.sketch, amount=-CUT_EXTRUDE20_REACH, mode=Mode.PRIVATE) & part.part
    # Sketch27 → Cut-Extrude20 (cut, up to next)
    with BuildSketch(Plane(origin=(0, 5, 0), x_dir=(1, 0, 0), z_dir=(0, 1, 0)), mode=Mode.PRIVATE) as cut_extrude20_sk3:
        with Locations(Location((-40.503857588, 20.540310896, 0), (0, 0, 270))):
            Circle(SKETCH27_R)
    cut_extrude20_tool3 = extrude(cut_extrude20_sk3.sketch, amount=-CUT_EXTRUDE20_REACH, mode=Mode.PRIVATE) & part.part
    # Sketch27 → Cut-Extrude20 (cut, up to next)
    with BuildSketch(Plane(origin=(0, 5, 0), x_dir=(1, 0, 0), z_dir=(0, 1, 0)), mode=Mode.PRIVATE) as cut_extrude20_sk4:
        with Locations(Location((-34.153857588, -27.719689104, 0), (0, 0, 270))):
            Circle(SKETCH27_R)
    cut_extrude20_tool4 = extrude(cut_extrude20_sk4.sketch, amount=-CUT_EXTRUDE20_REACH, mode=Mode.PRIVATE) & part.part
    add(cut_extrude20_tool1.solids().sort_by_distance((42.046142, 5, -20.540311))[0], mode=Mode.SUBTRACT)
    add(cut_extrude20_tool2.solids().sort_by_distance((40.776142, 5, 27.719689))[0], mode=Mode.SUBTRACT)
    add(cut_extrude20_tool3.solids().sort_by_distance((-40.503858, 5, -20.540311))[0], mode=Mode.SUBTRACT)
    add(cut_extrude20_tool4.solids().sort_by_distance((-34.153858, 5, 27.719689))[0], mode=Mode.SUBTRACT)


solid = part.part
